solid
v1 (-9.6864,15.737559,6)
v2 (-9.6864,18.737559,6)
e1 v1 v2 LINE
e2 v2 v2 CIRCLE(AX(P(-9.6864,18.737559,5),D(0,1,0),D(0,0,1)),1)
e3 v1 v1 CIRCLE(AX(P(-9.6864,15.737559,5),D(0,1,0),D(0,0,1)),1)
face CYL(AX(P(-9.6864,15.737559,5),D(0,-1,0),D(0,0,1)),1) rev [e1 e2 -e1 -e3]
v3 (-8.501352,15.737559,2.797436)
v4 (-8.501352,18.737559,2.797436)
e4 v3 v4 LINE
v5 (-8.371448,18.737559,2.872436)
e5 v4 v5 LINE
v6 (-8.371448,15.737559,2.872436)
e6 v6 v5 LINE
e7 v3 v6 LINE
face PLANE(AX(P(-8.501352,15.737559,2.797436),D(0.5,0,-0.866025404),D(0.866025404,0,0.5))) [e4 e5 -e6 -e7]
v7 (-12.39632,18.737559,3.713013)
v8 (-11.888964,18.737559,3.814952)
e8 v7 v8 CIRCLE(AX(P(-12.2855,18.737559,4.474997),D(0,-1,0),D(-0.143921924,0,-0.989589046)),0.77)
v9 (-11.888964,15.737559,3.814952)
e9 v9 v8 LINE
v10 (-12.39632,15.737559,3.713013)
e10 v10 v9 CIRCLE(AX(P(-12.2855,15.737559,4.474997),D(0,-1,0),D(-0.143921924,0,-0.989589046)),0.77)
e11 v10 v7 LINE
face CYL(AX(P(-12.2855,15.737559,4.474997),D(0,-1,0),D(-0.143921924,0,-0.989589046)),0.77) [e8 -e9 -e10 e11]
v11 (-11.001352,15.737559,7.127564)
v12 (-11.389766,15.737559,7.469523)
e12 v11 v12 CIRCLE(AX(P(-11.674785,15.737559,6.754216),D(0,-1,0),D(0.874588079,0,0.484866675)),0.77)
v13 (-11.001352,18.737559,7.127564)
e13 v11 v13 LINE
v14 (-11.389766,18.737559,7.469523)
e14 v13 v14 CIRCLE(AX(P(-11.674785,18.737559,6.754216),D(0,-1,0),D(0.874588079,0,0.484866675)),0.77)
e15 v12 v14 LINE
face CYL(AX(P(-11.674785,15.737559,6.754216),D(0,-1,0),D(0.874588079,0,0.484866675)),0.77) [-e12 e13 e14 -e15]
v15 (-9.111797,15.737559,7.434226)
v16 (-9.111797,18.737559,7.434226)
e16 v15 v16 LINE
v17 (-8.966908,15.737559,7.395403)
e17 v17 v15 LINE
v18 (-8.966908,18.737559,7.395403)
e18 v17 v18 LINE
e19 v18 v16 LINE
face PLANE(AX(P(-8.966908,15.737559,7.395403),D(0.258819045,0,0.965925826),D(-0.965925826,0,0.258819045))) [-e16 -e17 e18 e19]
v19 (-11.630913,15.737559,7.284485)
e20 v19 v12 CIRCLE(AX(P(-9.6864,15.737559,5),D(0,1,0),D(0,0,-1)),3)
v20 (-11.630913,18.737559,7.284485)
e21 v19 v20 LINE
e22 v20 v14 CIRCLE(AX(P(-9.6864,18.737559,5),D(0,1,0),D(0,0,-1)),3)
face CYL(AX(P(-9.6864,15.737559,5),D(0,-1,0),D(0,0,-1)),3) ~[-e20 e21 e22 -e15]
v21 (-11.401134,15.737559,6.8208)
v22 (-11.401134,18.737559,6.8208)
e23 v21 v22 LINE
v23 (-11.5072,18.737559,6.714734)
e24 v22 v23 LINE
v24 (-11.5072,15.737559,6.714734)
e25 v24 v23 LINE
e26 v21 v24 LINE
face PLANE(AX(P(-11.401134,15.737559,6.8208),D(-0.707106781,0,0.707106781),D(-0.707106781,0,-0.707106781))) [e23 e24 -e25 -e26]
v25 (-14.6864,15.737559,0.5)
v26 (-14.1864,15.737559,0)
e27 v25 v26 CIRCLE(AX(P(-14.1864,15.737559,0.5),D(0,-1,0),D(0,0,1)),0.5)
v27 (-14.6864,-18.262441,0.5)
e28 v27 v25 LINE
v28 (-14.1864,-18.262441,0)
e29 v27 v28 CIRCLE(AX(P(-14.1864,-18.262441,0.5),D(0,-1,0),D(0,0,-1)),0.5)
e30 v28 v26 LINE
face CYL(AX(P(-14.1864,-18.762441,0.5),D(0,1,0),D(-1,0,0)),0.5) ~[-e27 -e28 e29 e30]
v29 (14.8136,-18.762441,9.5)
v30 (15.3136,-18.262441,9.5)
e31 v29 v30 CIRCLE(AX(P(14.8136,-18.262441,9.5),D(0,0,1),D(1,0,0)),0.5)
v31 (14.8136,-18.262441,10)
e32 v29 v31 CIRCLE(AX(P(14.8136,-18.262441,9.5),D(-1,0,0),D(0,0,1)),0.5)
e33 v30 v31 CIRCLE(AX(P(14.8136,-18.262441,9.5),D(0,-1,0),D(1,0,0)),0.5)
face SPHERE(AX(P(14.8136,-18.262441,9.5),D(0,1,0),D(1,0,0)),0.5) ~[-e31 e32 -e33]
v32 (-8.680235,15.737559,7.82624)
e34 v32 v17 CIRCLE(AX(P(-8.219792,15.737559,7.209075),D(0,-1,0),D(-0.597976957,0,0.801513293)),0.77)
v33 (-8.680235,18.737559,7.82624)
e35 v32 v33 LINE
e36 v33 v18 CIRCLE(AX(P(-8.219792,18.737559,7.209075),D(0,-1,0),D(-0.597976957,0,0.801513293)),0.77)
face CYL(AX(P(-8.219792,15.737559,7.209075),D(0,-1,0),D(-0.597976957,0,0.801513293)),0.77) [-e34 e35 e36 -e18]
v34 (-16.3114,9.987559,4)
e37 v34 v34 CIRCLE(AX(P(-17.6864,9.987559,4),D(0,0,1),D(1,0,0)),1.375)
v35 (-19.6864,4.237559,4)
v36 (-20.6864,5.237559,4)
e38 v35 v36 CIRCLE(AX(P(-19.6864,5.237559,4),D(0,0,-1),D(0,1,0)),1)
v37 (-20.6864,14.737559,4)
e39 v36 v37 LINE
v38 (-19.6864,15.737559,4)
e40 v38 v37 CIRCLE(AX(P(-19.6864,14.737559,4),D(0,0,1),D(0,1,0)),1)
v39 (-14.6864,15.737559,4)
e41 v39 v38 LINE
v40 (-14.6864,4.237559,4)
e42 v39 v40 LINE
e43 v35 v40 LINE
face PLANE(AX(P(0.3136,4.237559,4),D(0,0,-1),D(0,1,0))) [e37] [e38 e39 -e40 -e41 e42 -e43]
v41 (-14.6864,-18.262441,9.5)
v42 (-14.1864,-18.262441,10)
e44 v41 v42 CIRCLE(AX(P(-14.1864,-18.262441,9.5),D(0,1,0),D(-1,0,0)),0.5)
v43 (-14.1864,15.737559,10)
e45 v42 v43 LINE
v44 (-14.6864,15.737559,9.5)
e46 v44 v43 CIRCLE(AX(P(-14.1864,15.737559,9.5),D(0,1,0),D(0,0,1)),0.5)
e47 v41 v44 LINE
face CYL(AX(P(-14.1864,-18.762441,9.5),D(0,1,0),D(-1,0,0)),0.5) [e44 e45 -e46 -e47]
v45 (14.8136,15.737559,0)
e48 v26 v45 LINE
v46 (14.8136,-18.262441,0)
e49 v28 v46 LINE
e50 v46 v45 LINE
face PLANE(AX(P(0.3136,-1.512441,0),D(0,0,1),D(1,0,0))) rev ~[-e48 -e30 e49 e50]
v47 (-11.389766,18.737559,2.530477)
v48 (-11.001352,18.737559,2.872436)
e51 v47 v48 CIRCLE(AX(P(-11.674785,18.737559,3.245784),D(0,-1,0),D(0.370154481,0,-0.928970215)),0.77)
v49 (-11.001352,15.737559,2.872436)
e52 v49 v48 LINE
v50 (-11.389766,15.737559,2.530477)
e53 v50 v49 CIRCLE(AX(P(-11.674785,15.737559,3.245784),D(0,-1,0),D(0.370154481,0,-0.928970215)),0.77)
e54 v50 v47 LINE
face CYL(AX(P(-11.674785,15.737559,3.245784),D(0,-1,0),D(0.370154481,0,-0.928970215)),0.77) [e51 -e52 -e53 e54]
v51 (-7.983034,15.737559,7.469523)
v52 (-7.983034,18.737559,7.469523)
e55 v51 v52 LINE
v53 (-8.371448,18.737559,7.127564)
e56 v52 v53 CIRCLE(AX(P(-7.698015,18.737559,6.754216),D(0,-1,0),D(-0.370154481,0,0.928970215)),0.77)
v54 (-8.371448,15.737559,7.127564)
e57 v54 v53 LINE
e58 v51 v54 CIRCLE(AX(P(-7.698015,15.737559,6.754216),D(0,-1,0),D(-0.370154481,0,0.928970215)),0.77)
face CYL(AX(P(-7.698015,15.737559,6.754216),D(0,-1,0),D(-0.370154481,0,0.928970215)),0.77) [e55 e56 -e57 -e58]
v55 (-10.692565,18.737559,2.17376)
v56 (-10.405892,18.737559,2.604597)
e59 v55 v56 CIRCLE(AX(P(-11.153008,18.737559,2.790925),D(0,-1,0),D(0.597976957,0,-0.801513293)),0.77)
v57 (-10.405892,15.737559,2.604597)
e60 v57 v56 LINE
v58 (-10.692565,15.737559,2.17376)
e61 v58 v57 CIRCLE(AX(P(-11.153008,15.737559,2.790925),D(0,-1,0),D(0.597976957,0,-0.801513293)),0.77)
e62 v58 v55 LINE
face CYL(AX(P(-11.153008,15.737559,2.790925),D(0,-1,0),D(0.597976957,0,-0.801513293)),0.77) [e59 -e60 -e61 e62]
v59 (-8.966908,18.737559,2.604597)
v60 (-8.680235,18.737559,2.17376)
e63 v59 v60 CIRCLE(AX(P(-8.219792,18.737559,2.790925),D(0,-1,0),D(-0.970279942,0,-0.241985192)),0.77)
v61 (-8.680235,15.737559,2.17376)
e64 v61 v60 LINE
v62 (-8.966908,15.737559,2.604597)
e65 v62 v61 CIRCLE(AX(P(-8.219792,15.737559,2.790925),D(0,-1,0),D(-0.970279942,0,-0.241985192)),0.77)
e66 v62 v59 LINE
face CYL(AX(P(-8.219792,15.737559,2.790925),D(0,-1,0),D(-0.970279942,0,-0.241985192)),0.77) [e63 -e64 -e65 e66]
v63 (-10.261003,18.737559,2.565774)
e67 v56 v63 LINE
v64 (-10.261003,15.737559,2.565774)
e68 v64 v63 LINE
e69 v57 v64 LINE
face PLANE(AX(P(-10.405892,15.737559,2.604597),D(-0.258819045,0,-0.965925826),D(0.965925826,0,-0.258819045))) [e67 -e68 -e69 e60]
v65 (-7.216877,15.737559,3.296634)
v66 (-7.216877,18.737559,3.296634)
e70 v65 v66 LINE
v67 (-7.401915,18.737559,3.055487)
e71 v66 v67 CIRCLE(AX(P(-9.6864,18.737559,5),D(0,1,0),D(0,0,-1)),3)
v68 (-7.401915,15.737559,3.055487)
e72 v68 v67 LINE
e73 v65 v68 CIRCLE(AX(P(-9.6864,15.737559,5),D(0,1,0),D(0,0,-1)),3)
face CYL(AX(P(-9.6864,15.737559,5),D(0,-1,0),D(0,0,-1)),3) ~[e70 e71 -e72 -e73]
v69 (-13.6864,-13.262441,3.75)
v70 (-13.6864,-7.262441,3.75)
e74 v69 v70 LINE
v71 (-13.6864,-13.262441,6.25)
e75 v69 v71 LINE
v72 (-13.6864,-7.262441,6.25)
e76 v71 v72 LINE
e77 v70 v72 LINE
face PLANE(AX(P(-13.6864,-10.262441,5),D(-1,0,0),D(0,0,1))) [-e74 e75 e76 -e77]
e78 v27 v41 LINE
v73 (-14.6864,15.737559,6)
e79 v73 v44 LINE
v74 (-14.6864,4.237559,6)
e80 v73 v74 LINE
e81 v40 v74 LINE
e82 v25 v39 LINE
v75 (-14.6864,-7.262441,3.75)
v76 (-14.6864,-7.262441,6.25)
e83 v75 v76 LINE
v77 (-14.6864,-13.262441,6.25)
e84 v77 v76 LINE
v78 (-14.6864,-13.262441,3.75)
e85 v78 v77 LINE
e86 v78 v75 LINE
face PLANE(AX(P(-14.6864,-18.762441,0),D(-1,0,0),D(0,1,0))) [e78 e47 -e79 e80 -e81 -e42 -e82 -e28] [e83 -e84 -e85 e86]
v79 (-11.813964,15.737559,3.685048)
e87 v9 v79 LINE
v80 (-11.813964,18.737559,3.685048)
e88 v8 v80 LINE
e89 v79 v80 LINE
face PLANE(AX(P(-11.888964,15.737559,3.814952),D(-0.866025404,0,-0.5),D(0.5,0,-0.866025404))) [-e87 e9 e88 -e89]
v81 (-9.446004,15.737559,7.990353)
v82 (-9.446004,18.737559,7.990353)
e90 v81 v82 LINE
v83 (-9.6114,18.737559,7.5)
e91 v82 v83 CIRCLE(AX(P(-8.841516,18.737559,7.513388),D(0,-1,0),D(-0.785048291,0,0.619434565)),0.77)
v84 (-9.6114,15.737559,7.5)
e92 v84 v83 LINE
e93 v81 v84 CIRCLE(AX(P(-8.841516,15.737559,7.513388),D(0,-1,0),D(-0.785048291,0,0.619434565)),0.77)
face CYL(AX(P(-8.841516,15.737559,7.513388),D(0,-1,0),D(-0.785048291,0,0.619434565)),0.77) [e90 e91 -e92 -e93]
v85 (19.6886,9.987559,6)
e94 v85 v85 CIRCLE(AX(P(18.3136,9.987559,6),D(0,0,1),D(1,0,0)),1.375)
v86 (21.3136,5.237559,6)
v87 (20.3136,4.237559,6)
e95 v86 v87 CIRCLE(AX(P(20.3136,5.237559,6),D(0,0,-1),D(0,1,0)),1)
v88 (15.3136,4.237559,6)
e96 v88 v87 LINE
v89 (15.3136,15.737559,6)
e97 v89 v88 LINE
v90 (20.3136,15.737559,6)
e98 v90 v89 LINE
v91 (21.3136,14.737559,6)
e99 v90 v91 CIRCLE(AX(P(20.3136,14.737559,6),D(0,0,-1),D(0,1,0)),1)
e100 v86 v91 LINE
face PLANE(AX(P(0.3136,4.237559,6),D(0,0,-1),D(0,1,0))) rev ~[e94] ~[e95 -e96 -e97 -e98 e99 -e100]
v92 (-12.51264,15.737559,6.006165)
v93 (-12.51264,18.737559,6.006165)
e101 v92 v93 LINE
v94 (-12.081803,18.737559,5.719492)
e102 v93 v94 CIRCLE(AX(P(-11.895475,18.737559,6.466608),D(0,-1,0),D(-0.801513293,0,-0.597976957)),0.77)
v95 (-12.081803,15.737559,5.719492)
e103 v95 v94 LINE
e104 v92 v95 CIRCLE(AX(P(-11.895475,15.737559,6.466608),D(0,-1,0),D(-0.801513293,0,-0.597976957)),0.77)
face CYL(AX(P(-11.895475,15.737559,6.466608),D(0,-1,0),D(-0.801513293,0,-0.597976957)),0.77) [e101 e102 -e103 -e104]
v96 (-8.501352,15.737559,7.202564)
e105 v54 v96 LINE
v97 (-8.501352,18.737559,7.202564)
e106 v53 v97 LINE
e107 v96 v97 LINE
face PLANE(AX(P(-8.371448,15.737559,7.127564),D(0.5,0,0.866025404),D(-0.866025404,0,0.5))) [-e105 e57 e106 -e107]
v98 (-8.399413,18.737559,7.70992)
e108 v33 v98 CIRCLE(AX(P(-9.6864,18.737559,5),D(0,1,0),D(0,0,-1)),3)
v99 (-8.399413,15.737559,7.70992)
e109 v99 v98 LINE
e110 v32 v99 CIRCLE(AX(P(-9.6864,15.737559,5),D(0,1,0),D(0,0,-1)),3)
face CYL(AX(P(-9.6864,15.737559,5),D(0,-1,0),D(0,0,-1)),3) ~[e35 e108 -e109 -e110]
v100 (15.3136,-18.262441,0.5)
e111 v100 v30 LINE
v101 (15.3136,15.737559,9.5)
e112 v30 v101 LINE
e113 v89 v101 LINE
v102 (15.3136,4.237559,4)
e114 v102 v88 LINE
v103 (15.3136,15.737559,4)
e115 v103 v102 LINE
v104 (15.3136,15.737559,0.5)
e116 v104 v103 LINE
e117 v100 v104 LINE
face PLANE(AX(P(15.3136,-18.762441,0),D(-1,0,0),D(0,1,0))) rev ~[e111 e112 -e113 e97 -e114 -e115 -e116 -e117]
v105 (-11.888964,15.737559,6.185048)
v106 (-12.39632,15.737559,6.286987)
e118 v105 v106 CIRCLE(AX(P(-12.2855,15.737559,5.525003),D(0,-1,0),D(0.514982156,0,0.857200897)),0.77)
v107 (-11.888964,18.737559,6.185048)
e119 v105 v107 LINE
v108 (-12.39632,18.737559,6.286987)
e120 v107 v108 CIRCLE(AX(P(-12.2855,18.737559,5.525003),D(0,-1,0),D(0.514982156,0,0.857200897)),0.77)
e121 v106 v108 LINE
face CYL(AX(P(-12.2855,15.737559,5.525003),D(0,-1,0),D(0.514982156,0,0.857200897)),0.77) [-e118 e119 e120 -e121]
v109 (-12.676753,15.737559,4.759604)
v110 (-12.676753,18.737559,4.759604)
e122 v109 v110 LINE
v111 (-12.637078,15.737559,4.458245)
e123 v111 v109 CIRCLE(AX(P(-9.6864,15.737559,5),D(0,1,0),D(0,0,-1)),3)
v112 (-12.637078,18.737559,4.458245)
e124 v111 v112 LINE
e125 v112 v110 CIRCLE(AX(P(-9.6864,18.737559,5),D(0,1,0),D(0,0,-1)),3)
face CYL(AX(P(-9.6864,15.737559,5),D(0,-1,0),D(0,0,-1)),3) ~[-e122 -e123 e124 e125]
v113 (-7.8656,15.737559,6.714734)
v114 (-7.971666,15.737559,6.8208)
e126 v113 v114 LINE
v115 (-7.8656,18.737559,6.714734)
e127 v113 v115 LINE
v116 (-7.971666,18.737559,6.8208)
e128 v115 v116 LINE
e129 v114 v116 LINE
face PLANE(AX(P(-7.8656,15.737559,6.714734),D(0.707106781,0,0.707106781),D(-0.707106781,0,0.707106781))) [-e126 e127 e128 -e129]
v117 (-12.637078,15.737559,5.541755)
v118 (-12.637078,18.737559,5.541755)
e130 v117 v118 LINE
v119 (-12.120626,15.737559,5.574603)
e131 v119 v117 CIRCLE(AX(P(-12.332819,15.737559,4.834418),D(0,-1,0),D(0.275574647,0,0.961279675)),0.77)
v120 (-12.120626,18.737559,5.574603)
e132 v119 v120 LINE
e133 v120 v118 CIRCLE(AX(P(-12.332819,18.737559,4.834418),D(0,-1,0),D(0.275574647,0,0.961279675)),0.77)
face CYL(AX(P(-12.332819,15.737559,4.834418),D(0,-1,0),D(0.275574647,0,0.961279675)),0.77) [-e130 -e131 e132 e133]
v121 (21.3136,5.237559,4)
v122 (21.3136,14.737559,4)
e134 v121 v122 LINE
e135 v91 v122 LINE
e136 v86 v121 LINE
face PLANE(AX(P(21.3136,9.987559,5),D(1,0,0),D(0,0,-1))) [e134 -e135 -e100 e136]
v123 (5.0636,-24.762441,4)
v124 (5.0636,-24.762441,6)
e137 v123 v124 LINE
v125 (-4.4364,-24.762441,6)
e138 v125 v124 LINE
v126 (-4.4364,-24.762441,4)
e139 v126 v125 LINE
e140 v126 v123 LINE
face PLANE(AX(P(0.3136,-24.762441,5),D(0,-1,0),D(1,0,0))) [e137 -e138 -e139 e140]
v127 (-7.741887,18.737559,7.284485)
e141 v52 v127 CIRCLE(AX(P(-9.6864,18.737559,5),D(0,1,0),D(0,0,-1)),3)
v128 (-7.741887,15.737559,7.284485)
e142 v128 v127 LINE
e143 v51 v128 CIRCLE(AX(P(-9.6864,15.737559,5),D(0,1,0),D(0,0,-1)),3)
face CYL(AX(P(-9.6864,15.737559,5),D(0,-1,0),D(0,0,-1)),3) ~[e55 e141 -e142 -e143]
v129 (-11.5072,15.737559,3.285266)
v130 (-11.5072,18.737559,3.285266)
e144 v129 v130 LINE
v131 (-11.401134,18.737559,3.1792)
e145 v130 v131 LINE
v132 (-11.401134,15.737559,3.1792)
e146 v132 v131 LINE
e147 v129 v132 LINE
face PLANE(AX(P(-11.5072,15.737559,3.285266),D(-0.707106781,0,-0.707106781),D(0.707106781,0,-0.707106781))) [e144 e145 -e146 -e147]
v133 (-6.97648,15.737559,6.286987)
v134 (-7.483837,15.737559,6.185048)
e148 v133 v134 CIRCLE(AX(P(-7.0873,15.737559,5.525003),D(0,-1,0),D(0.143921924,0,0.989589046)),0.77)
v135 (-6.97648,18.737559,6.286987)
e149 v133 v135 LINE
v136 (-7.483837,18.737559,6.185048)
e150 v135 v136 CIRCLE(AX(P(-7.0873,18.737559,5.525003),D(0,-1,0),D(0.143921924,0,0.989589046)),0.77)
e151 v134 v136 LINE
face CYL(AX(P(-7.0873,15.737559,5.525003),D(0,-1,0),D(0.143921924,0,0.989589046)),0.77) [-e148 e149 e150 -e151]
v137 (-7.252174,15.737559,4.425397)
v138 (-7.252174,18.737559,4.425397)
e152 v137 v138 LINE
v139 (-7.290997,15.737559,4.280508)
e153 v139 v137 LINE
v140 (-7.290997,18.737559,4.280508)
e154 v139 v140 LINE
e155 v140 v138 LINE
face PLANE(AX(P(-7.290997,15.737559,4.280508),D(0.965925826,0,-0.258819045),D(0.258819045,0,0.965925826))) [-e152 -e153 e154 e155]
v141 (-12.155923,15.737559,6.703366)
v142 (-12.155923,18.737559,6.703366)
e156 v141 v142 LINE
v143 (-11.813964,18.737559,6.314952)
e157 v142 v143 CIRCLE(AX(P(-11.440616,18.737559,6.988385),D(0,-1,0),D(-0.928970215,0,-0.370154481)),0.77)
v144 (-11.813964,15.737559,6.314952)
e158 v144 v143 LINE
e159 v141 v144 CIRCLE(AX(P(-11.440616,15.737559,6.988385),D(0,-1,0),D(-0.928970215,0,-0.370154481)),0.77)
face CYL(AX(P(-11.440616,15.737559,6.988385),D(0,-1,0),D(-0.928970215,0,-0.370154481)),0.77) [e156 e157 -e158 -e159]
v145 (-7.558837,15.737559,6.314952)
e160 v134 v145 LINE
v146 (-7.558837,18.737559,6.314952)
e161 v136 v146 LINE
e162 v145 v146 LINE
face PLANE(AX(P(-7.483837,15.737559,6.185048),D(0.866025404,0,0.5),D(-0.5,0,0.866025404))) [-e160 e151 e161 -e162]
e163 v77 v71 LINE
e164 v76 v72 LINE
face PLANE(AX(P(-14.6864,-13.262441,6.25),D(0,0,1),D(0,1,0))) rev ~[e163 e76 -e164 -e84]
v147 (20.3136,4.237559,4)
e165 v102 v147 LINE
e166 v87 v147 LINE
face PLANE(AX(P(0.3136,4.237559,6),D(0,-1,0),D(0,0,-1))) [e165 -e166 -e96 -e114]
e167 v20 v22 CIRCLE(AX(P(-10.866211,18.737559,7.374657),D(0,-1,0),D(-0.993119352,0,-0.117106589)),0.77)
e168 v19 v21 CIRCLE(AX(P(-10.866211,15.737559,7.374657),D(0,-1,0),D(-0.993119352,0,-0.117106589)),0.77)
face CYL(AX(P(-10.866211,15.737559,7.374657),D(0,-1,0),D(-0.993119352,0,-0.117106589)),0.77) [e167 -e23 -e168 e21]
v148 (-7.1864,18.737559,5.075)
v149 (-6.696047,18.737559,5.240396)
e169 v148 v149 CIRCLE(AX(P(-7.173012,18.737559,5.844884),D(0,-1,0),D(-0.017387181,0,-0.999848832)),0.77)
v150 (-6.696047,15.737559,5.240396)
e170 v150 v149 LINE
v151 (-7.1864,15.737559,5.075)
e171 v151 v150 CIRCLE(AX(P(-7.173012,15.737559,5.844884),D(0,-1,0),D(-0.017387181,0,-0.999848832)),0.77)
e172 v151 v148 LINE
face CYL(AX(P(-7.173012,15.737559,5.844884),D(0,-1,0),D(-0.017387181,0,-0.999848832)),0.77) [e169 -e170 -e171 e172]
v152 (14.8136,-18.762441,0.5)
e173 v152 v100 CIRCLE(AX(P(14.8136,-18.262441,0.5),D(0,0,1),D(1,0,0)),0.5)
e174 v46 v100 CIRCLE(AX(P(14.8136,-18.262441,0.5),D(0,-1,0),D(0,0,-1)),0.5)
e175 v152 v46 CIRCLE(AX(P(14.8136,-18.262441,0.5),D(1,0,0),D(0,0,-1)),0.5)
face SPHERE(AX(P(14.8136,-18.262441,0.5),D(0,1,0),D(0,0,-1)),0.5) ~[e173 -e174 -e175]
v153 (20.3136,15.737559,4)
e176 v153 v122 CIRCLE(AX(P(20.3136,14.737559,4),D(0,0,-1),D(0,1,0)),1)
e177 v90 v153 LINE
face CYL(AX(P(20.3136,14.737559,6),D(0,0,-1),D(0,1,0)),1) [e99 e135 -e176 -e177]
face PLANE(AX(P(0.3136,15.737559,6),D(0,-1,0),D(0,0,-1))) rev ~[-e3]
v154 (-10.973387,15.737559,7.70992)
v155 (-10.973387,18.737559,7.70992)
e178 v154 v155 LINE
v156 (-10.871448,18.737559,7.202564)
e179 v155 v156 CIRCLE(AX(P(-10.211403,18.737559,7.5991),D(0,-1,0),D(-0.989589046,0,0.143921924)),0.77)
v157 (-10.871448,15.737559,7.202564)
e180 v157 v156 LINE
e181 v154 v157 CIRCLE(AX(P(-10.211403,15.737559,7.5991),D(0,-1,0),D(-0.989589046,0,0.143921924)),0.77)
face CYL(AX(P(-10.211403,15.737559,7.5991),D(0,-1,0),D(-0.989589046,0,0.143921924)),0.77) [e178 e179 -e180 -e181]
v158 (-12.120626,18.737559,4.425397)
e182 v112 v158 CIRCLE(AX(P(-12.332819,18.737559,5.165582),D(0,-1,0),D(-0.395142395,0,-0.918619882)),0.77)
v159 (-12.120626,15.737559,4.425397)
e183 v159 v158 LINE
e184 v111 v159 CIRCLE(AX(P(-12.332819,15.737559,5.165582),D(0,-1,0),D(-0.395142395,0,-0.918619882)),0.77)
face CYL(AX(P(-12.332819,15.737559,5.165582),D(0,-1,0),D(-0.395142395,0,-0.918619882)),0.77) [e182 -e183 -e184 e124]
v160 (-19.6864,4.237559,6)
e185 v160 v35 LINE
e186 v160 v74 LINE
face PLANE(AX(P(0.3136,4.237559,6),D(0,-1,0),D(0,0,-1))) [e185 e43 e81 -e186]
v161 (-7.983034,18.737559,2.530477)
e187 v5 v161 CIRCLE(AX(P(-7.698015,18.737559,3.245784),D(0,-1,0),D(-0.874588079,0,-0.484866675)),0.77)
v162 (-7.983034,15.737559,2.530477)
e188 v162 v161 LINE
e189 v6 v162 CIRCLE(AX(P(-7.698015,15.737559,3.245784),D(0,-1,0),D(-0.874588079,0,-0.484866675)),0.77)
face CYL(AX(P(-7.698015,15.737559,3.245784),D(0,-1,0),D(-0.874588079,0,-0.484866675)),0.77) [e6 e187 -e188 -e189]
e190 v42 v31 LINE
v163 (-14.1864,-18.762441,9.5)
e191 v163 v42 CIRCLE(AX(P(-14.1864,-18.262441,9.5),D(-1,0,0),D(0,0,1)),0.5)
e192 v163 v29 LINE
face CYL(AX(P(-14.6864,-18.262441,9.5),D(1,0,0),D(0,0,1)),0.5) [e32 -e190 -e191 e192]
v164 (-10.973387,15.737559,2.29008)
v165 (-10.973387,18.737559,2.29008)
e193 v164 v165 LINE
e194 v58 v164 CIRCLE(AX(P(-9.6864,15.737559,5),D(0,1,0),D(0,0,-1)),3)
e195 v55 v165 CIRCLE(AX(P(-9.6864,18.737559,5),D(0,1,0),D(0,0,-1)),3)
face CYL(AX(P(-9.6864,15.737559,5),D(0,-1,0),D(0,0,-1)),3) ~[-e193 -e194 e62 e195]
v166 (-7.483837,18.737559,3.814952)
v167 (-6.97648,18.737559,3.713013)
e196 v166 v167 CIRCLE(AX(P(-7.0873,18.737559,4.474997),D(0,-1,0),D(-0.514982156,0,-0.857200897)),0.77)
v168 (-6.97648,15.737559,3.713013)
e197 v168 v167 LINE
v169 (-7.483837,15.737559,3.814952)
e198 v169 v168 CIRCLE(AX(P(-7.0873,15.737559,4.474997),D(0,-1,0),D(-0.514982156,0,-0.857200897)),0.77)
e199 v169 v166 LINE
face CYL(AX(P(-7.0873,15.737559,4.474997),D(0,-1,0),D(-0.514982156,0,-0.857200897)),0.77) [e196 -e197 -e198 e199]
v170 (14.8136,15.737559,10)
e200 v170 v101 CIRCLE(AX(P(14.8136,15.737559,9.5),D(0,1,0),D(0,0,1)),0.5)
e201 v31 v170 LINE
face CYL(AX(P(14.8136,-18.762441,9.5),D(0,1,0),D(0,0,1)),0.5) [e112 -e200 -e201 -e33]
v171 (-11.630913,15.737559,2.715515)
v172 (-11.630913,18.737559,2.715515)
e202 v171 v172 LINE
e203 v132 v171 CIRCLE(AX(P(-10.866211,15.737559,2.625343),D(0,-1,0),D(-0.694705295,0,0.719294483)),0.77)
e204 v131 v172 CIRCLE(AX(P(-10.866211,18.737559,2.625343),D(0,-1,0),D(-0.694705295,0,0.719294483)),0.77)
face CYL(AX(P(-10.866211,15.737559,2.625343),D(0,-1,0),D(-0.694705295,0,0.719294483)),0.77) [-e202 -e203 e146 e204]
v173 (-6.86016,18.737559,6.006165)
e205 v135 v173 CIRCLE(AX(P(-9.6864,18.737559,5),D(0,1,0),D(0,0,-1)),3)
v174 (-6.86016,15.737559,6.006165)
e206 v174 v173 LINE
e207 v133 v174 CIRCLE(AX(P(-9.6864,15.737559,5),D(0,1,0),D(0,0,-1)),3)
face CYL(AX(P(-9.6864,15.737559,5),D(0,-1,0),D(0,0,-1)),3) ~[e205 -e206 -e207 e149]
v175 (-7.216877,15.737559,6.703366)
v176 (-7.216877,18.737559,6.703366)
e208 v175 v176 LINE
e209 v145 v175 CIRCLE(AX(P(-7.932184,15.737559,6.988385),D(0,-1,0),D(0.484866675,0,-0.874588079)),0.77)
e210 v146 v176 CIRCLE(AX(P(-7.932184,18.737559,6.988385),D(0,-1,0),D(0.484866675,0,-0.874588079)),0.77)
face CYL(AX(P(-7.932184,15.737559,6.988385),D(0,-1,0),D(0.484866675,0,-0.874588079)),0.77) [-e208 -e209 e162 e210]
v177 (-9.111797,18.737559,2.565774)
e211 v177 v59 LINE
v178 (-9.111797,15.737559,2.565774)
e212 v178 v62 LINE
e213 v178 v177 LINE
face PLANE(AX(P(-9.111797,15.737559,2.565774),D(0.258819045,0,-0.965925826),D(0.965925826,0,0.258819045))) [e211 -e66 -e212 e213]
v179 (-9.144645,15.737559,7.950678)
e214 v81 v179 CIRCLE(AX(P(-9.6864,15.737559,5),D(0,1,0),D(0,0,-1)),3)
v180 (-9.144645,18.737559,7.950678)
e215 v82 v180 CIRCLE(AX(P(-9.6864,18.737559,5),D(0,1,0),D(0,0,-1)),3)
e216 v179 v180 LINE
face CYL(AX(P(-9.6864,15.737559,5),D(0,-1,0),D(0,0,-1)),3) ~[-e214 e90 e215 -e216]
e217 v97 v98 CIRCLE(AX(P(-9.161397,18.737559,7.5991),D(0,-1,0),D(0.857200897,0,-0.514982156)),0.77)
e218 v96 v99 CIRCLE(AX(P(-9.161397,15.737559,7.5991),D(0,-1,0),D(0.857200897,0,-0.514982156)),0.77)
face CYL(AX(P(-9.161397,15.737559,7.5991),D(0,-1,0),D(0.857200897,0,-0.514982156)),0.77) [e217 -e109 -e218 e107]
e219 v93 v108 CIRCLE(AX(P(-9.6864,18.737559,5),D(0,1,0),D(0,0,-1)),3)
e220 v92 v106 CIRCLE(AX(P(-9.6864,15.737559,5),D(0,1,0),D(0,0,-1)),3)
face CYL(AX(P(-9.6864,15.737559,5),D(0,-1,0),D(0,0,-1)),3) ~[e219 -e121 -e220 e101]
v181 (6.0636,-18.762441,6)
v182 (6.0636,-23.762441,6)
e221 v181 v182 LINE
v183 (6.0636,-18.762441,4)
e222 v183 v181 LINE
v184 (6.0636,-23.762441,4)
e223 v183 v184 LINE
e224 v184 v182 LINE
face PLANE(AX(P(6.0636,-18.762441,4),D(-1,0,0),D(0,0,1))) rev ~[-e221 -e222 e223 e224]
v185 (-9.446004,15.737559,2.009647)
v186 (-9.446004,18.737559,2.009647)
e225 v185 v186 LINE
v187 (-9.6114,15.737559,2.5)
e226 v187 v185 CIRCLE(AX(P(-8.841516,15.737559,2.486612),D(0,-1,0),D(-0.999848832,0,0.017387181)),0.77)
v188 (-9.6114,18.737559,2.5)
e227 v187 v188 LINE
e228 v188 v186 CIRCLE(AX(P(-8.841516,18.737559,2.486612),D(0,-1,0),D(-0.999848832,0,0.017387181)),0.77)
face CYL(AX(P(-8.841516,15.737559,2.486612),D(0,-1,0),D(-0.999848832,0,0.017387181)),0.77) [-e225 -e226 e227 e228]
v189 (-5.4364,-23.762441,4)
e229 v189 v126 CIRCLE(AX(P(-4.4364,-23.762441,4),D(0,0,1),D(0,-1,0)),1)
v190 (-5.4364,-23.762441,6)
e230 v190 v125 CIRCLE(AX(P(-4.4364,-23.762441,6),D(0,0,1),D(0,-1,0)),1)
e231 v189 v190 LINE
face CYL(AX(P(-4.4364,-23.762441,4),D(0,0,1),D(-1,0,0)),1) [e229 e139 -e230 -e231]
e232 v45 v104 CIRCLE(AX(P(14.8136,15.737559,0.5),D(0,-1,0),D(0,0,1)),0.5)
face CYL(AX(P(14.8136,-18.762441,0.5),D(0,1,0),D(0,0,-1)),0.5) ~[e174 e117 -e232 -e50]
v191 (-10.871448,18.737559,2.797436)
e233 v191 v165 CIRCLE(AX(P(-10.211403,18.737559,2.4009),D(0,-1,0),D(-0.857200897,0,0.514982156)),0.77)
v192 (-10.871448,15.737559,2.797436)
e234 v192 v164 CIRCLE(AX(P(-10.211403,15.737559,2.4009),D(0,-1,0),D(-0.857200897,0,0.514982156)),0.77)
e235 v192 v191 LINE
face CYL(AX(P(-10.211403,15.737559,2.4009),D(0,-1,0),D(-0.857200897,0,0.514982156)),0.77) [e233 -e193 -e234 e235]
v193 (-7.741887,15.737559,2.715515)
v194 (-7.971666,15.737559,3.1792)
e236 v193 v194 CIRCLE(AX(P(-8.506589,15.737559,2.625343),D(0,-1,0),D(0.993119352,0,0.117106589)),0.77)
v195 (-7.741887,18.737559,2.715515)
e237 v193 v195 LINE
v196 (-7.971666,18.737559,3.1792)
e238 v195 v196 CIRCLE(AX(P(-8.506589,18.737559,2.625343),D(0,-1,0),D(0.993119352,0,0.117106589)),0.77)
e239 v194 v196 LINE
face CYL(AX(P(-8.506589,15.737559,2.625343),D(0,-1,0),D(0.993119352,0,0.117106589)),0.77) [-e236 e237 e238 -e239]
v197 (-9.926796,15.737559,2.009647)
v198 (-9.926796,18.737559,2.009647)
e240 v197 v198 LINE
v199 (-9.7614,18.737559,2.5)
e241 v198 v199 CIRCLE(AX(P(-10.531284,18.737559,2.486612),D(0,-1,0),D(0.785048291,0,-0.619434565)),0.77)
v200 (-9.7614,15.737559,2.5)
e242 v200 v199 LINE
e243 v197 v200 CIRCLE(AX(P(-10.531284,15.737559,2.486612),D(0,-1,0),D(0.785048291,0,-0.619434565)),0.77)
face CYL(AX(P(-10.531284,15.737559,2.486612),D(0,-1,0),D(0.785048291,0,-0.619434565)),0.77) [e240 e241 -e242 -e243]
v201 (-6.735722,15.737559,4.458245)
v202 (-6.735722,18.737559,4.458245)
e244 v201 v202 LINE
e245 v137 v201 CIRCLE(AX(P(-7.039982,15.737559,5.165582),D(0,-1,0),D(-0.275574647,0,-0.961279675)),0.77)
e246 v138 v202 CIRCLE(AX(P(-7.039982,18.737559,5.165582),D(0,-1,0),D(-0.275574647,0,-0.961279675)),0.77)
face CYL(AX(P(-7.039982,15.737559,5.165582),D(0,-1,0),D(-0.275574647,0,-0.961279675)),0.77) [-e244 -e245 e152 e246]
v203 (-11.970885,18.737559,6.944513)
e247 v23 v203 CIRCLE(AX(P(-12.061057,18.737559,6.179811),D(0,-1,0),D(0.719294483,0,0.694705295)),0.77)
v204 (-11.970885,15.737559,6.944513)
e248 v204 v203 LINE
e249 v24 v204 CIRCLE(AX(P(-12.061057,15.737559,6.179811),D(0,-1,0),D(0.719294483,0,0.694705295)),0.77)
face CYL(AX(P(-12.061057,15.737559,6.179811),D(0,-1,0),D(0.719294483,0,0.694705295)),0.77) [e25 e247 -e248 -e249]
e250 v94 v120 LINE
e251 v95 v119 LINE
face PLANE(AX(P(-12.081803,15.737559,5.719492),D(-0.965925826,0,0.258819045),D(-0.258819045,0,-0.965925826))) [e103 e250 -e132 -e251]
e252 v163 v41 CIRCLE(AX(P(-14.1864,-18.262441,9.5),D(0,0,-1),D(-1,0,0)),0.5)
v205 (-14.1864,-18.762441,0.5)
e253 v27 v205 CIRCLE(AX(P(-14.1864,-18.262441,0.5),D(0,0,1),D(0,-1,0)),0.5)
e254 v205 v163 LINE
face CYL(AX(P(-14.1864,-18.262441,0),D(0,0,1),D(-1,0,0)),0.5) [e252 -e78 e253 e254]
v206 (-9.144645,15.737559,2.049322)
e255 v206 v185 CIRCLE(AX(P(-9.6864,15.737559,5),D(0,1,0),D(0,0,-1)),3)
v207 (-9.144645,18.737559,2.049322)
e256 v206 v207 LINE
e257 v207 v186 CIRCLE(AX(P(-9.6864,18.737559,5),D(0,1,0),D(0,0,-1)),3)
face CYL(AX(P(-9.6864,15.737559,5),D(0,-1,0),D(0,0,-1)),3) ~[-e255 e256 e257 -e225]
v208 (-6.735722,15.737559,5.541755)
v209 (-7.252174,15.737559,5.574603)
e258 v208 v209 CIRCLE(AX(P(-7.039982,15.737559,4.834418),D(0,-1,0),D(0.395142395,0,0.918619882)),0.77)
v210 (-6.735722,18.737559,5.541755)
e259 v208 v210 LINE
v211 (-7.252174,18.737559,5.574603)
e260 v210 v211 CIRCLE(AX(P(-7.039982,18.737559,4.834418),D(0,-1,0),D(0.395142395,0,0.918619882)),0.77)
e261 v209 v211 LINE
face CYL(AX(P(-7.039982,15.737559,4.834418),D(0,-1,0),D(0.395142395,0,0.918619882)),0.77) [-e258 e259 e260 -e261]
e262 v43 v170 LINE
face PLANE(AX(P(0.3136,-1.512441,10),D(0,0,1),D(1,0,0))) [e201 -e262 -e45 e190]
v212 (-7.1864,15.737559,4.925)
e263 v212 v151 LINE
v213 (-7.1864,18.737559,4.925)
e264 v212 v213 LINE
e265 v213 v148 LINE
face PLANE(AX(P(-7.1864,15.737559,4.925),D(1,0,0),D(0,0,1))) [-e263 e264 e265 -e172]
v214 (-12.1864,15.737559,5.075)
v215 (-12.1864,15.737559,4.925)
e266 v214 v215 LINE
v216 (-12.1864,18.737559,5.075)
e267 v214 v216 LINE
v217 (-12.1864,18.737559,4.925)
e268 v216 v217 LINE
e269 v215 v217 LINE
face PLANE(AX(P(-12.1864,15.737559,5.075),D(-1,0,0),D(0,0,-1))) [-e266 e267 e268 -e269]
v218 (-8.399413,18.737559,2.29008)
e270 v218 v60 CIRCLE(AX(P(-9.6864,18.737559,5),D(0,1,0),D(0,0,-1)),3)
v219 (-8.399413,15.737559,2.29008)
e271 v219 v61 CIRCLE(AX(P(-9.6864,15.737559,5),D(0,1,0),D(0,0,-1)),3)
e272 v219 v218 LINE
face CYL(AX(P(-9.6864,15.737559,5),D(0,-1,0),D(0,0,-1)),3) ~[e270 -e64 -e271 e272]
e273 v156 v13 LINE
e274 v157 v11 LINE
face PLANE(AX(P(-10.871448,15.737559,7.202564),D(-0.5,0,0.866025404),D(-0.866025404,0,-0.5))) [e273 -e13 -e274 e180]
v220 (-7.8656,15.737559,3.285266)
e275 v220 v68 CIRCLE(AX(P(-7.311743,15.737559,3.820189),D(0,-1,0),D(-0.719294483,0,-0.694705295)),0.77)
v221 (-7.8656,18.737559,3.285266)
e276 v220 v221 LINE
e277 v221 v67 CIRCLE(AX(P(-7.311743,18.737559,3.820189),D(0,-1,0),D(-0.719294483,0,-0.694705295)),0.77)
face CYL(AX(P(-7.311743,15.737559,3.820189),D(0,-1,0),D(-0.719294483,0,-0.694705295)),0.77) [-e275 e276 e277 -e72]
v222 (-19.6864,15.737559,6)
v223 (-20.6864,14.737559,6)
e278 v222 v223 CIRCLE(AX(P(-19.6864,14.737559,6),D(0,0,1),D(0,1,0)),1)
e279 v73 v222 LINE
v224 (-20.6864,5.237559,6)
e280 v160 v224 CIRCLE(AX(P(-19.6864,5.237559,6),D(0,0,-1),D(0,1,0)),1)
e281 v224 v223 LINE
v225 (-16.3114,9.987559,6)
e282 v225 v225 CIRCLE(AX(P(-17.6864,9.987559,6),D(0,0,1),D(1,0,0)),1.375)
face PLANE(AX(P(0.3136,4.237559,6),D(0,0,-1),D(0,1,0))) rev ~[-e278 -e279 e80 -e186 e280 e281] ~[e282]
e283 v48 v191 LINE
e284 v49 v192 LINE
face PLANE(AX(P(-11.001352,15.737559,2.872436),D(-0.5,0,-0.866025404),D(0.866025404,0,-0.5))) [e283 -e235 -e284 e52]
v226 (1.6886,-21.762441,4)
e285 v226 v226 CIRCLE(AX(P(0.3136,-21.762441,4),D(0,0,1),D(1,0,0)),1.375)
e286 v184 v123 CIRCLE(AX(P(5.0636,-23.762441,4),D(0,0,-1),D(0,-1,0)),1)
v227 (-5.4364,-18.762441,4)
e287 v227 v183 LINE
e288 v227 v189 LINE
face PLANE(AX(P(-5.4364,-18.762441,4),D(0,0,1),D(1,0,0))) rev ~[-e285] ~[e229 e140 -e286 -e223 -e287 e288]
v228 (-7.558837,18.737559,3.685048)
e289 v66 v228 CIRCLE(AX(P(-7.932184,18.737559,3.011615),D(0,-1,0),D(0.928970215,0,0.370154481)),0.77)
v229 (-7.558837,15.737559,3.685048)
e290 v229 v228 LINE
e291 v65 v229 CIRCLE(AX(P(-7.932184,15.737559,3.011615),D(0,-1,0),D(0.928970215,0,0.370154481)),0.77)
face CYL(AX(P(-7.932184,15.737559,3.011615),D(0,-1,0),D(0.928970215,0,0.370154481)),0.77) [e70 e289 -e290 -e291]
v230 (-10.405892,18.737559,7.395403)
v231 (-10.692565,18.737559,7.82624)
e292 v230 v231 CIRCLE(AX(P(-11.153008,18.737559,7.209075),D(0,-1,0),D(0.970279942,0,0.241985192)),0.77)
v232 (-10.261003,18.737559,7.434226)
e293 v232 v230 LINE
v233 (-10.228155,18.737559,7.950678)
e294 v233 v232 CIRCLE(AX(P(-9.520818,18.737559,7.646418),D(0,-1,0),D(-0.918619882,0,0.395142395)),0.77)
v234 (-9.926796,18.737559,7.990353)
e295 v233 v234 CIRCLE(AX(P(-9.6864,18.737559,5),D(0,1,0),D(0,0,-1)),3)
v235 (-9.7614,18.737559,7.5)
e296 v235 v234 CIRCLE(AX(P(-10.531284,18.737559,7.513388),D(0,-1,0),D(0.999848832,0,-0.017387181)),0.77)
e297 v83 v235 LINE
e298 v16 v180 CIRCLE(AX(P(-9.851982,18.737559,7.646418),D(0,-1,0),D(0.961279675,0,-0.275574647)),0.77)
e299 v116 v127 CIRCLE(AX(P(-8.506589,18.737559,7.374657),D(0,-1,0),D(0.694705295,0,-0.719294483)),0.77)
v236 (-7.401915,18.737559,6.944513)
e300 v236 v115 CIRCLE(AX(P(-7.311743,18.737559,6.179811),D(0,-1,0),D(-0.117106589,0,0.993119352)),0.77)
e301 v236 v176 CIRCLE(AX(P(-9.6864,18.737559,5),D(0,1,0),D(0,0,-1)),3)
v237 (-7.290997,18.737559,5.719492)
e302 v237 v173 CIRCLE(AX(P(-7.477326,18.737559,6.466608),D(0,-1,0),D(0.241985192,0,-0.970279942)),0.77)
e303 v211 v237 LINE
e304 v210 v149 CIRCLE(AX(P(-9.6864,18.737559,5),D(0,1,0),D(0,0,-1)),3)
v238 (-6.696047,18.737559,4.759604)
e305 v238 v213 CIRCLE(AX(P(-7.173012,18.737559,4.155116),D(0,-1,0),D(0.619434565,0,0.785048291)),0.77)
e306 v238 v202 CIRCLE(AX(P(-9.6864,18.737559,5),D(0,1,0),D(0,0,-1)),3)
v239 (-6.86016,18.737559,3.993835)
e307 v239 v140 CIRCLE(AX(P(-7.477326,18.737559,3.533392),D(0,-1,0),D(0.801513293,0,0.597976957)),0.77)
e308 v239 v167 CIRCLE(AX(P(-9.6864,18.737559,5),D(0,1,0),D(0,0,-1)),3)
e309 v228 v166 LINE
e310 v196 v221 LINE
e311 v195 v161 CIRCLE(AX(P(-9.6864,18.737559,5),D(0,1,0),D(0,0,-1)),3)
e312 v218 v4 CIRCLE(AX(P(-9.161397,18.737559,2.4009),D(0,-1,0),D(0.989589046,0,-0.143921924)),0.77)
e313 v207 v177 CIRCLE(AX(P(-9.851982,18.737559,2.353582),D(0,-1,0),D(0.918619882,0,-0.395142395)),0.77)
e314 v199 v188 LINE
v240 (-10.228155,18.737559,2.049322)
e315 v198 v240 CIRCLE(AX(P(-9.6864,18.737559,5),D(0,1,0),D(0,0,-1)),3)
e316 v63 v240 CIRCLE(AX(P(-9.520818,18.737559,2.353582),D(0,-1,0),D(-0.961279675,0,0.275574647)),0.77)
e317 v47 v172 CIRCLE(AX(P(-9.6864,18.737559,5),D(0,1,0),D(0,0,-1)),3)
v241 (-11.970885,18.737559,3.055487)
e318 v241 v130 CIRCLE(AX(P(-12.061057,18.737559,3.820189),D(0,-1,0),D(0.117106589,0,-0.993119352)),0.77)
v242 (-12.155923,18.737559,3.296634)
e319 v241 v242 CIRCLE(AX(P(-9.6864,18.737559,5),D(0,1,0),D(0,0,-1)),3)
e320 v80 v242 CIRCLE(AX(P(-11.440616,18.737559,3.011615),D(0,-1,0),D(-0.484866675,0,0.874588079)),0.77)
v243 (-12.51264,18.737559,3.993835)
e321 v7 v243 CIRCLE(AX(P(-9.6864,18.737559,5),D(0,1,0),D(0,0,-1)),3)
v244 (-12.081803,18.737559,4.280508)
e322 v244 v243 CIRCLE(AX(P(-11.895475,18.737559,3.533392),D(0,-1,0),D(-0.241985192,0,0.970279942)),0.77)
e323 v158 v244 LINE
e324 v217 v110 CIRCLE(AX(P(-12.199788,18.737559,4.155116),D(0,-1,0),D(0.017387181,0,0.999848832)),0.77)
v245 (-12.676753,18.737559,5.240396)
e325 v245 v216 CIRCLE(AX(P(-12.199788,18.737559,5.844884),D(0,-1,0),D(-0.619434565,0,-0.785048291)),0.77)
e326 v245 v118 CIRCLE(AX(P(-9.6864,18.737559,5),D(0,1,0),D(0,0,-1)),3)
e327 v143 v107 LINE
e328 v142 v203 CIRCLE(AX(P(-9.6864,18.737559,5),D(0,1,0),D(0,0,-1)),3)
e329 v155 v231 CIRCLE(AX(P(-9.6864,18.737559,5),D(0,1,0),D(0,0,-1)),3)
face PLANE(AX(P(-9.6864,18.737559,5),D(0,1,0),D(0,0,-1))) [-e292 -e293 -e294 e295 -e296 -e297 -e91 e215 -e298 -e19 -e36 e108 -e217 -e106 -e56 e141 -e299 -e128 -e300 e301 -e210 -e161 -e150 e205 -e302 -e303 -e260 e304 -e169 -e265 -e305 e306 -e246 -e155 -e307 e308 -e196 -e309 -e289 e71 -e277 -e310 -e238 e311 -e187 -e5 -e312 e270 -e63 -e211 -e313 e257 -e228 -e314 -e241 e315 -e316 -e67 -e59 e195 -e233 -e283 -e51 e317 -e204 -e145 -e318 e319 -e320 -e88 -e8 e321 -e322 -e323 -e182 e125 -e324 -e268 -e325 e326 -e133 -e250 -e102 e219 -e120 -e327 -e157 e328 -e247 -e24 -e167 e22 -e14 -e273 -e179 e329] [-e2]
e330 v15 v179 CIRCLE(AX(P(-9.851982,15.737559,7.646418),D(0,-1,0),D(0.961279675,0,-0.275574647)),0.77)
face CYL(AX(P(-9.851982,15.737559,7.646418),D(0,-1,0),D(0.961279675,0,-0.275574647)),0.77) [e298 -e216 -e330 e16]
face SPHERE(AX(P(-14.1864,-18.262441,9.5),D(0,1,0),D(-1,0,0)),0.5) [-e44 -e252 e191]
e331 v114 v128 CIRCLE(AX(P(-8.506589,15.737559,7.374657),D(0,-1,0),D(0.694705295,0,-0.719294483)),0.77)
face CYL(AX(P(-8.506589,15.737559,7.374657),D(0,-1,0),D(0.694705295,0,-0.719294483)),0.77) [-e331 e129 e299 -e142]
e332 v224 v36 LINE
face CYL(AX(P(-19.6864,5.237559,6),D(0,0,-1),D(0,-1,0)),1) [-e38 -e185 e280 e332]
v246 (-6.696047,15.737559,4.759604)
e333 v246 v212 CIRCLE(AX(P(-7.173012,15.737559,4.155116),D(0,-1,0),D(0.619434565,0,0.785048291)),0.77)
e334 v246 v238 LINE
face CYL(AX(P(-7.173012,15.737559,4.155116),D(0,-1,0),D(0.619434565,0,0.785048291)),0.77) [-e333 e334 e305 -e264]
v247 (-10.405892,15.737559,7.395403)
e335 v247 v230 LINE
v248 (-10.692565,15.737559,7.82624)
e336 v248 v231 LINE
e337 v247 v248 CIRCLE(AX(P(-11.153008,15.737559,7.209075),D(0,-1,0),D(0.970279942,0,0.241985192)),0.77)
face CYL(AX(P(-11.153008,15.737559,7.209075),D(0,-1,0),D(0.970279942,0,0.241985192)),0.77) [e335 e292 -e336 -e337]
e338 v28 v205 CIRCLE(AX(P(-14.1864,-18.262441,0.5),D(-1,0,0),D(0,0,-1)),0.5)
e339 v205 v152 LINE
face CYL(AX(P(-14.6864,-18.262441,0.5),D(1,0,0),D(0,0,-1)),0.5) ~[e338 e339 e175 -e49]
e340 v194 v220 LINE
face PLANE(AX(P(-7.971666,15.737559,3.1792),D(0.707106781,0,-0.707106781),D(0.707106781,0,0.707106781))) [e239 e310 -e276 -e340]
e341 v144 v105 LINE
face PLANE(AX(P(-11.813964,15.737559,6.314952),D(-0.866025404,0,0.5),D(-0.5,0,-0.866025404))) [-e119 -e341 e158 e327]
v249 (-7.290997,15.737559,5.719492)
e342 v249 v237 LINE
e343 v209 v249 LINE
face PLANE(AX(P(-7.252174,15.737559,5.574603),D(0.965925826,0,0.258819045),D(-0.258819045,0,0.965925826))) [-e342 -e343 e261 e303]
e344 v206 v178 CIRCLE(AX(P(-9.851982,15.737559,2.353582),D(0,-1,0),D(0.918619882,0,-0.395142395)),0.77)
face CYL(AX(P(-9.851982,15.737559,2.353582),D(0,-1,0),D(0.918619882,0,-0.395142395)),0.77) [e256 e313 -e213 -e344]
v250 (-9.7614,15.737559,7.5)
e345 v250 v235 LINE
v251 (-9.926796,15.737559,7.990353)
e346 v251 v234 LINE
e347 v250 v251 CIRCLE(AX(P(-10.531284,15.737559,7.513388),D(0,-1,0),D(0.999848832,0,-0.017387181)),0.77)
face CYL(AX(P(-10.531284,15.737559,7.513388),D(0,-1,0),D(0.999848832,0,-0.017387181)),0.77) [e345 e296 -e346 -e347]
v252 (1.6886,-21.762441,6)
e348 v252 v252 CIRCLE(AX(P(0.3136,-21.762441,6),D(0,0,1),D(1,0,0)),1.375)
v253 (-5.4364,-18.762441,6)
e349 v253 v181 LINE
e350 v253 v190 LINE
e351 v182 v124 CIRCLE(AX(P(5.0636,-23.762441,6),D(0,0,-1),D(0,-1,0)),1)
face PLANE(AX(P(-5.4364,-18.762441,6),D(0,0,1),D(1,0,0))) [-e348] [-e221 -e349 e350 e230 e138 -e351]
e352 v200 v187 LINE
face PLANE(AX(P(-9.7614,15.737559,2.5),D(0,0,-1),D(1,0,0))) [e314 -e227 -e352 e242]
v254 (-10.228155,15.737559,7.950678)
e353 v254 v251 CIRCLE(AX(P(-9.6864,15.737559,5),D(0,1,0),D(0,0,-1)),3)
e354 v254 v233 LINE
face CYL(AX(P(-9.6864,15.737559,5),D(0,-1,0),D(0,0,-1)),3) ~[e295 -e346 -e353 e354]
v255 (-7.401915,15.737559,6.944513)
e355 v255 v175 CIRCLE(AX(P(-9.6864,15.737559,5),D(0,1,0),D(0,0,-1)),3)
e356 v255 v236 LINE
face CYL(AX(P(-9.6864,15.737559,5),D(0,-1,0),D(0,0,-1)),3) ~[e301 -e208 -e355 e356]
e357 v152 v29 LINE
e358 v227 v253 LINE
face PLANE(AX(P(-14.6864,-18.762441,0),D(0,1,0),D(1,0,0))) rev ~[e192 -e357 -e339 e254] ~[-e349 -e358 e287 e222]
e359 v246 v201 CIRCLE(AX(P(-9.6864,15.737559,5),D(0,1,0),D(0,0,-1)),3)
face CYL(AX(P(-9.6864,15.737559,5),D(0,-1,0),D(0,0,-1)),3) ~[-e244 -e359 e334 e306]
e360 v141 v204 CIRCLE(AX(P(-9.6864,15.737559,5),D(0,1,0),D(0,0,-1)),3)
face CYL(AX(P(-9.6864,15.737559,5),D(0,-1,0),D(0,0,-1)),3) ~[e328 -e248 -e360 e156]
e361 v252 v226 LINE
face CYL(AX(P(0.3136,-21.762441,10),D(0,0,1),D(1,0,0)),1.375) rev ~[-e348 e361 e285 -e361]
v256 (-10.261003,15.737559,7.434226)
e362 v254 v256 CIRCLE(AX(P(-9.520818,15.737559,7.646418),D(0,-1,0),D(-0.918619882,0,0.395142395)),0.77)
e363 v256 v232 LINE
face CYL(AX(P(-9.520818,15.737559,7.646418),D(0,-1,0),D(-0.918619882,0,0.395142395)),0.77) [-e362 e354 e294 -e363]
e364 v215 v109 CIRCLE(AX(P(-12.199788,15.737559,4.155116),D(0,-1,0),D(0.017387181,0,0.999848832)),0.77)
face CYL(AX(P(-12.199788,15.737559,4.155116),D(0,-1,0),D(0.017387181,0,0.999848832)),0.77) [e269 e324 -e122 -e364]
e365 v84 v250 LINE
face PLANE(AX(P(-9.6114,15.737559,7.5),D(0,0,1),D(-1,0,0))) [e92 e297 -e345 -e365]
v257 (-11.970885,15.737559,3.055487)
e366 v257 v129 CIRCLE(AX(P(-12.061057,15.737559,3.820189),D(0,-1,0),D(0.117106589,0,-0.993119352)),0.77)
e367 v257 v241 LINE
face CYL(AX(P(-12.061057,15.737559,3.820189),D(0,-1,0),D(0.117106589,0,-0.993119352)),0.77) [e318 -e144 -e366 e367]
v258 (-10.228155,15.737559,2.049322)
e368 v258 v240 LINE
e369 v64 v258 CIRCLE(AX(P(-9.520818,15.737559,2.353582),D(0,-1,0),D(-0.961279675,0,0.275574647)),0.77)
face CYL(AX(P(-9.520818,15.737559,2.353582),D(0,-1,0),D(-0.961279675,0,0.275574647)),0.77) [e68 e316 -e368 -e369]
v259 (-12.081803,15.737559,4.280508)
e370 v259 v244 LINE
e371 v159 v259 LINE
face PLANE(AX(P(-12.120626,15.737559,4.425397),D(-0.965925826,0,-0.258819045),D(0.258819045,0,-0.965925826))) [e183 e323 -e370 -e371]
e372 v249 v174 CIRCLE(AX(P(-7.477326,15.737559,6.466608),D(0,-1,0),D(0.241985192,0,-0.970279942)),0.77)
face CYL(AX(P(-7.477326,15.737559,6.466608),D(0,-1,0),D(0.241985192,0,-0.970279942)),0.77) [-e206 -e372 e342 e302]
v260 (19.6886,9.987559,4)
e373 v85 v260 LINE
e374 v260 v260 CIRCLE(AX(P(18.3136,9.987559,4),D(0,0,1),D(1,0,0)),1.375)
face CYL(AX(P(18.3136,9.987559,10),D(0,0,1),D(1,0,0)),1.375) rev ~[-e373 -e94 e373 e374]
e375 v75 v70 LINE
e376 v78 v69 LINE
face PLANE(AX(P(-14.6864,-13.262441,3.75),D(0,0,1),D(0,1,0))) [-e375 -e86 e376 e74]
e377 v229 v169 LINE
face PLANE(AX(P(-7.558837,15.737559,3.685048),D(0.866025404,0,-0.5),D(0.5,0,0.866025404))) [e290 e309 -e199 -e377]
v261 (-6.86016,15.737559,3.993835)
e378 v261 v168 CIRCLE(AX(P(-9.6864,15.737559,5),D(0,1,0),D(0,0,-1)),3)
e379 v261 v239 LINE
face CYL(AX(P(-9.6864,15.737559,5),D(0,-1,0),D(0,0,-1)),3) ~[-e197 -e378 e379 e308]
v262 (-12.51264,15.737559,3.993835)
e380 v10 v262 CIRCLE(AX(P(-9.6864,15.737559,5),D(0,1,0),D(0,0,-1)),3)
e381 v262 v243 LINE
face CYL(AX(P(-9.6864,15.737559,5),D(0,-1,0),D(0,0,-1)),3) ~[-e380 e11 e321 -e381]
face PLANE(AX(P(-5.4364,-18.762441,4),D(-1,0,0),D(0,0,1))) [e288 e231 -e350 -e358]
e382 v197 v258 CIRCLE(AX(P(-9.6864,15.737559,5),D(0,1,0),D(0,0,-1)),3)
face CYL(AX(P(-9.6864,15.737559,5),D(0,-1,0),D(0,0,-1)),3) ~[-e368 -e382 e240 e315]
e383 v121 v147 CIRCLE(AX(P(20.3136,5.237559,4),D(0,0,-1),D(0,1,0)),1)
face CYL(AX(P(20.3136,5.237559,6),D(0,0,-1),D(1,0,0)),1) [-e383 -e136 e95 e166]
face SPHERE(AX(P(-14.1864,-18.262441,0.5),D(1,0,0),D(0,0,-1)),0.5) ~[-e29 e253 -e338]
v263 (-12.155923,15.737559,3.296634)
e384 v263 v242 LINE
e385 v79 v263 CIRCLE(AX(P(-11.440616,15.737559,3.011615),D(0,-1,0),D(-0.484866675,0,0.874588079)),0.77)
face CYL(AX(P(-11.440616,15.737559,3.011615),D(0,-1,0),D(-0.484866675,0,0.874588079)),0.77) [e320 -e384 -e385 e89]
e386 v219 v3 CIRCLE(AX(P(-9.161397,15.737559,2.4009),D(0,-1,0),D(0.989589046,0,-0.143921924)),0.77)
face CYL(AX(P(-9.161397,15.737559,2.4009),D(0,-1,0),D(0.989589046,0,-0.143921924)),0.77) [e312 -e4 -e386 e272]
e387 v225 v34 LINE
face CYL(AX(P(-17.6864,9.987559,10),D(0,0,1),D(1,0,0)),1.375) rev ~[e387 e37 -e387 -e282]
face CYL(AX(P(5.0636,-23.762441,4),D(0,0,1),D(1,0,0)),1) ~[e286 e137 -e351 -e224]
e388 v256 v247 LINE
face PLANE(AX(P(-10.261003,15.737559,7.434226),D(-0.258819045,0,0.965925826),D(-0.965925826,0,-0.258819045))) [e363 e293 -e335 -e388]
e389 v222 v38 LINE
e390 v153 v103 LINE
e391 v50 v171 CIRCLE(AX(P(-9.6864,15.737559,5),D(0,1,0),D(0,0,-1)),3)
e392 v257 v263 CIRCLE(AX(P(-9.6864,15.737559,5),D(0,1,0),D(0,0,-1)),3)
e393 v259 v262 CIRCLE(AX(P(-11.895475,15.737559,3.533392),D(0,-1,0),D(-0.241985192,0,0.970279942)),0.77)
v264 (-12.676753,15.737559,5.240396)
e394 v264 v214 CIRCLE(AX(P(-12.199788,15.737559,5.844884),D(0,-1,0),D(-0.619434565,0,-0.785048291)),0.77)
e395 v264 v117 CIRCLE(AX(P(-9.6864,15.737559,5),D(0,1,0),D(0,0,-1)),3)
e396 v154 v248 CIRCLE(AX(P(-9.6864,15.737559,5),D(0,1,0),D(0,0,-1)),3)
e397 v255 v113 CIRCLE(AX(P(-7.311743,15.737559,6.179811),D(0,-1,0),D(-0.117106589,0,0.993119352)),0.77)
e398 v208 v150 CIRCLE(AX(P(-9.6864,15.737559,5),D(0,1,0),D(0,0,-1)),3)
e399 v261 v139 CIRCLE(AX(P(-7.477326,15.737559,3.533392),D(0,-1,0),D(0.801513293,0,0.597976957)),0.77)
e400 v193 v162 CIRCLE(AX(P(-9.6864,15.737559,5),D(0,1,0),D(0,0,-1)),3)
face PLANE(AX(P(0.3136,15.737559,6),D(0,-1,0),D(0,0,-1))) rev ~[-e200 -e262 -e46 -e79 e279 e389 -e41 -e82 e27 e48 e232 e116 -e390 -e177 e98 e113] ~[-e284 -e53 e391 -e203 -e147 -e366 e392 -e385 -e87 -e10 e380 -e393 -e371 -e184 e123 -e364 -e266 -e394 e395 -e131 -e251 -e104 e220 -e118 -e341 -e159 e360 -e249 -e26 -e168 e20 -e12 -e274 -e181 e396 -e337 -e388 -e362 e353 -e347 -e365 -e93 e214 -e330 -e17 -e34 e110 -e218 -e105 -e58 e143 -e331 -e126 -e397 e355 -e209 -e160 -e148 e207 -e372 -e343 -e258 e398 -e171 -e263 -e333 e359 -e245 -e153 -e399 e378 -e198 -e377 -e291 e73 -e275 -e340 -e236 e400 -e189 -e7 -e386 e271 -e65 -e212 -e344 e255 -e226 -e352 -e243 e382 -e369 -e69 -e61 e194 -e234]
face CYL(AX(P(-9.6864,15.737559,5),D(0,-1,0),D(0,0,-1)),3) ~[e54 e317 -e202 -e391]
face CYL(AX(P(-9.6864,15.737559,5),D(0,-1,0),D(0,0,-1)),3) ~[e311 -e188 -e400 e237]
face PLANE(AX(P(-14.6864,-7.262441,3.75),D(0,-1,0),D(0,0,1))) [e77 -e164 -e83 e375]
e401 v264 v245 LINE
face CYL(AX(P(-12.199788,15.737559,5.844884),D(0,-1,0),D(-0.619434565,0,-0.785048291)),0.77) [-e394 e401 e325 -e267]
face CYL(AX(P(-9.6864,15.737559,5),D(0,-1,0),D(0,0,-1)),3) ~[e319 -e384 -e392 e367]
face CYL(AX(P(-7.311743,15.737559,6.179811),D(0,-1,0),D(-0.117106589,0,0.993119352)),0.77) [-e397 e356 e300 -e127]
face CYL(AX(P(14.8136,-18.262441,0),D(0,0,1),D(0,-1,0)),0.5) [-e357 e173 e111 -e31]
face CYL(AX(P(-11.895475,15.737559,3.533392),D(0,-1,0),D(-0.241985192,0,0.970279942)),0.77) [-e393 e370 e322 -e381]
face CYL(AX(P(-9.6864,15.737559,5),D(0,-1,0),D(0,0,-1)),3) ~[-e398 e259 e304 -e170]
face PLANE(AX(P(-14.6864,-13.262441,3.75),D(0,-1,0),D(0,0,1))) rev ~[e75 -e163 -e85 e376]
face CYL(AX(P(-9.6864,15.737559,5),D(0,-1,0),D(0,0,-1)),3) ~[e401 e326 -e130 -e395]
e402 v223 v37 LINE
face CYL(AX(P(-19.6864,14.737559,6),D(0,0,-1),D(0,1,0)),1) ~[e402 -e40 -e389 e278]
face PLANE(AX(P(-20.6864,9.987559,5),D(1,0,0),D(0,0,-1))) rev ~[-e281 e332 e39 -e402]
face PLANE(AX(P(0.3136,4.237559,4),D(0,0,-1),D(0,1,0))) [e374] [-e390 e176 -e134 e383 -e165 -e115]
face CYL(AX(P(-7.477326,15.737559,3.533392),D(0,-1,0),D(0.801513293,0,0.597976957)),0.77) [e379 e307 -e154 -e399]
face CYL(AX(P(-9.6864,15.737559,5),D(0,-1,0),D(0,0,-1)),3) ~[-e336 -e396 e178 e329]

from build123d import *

# Parameters (mm, degrees)
SKETCH1_W           = 30
SKETCH1_H           = 34.5
BOSS_EXTRUDE1_DEPTH = 10
SKETCH2_W           = 2
SKETCH2_H           = 11.5
BOSS_EXTRUDE4_DEPTH = 21
SKETCH3_W           = 11.5
SKETCH3_H           = 2
BOSS_EXTRUDE5_DEPTH = 6
FILLET2_R           = 1
SKETCH4_R           = 1.375
CUT_EXTRUDE1_DEPTH  = 10
FILLET3_R           = 0.5
SKETCH5_W           = 2.5
SKETCH5_H           = 6
CUT_EXTRUDE2_DEPTH  = 1
SKETCH6_R           = 3
SKETCH6_R_2         = 1
BOSS_EXTRUDE6_DEPTH = 3
CUT_EXTRUDE3_START  = -3
CUT_EXTRUDE3_DEPTH  = 3
CIRPATTERN1_COUNT   = 24


with BuildPart() as part:
    # Sketch1 → Boss-Extrude1 (new body)
    with BuildSketch(Plane.XY):
        with Locations((0.31359995, -1.512440758)):
            Rectangle(SKETCH1_W, SKETCH1_H)
    extrude(amount=BOSS_EXTRUDE1_DEPTH)

    # Sketch2 → Boss-Extrude4 (add, symmetric)
    with BuildSketch(Plane(origin=(0.31359995, 0, 0), x_dir=(0, 0, -1), z_dir=(1, 0, 0))):
        with Locations((-5, 9.987559242)):
            Rectangle(SKETCH2_W, SKETCH2_H)
    extrude(amount=BOSS_EXTRUDE4_DEPTH, both=True)

    # Sketch3 → Boss-Extrude5 (add)
    with BuildSketch(Plane.XZ.offset(18.762440758)):
        with Locations((0.31359995, 5)):
            Rectangle(SKETCH3_W, SKETCH3_H)
    extrude(amount=BOSS_EXTRUDE5_DEPTH)

    # Fillet2
    fillet2_edges = [part.edges().sort_by_distance(p)[0] for p in [
        (21.31359995, 15.737559242, 5),
        (-20.68640005, 4.237559242, 5),
        (21.31359995, 4.237559242, 5),
        (-20.68640005, 15.737559242, 5),
        (-5.43640005, -24.762440758, 5),
        (6.06359995, -24.762440758, 5),
    ]]
    fillet(fillet2_edges, radius=FILLET2_R)

    # Sketch4 → Cut-Extrude1 (cut)
    with BuildSketch(Plane.XY.offset(10)):
        with Locations((-17.68640005, 9.987559242)):
            Circle(SKETCH4_R)
        with Locations((18.31359995, 9.987559242)):
            Circle(SKETCH4_R)
        with Locations((0.31359995, -21.762440758)):
            Circle(SKETCH4_R)
    extrude(amount=-CUT_EXTRUDE1_DEPTH, mode=Mode.SUBTRACT)

    # Fillet3
    fillet3_edges = [part.edges().sort_by_distance(p)[0] for p in [
        (15.31359995, -1.512440758, 10),
        (-14.68640005, -1.512440758, 10),
        (15.31359995, -1.512440758, 0),
        (0.31359995, -18.762440758, 0),
        (-14.68640005, -1.512440758, 0),
        (15.31359995, -18.762440758, 5),
        (-14.68640005, -18.762440758, 5),
        (0.31359995, -18.762440758, 10),
    ]]
    fillet(fillet3_edges, radius=FILLET3_R)

    # Sketch5 → Cut-Extrude2 (cut)
    with BuildSketch(Plane.ZY.offset(14.68640005)):
        with Locations((5, -10.262440758)):
            Rectangle(SKETCH5_W, SKETCH5_H)
    extrude(amount=-CUT_EXTRUDE2_DEPTH, mode=Mode.SUBTRACT)

    # Sketch6 → Boss-Extrude6 (add)
    with BuildSketch(Plane(origin=(0, 15.737559242, 0), x_dir=(1, 0, 0), z_dir=(0, 1, 0))):
        with Locations(Location((-9.68640005, -5, 0), (0, 0, 90))):
            Circle(SKETCH6_R)
        with Locations(Location((-9.68640005, -5, 0), (0, 0, 270))):
            Circle(SKETCH6_R_2, mode=Mode.SUBTRACT)
    extrude(amount=BOSS_EXTRUDE6_DEPTH)

    # Sketch7 → Cut-Extrude3 (cut)
    with BuildSketch(Plane(origin=(0, 18.737559242, 0), x_dir=(1, 0, 0), z_dir=(0, 1, 0)).offset(CUT_EXTRUDE3_START)):
        with BuildLine():
            Line((-9.68640005, -2), (-9.68640005, -2.5))
            Line((-9.68640005, -2.5), (-9.61140005, -2.5))
            ThreePointArc((-9.61140005, -2.5), (-9.571129509, -2.240512735), (-9.446003633, -2.009647251))
            ThreePointArc((-9.446003633, -2.009647251), (-9.566105093, -2.002412783), (-9.68640005, -2))
        make_face()
        with BuildLine():
            Line((-9.76140005, -2.5), (-9.68640005, -2.5))
            Line((-9.68640005, -2.5), (-9.68640005, -2))
            ThreePointArc((-9.68640005, -2), (-9.806695006, -2.002412783), (-9.926796466, -2.009647251))
            ThreePointArc((-9.926796466, -2.009647251), (-9.80167059, -2.240512735), (-9.76140005, -2.5))
        make_face()
    cut_extrude3 = extrude(amount=CUT_EXTRUDE3_DEPTH, mode=Mode.SUBTRACT)

    # CirPattern1: Cut-Extrude3 ×24 about axis
    cirpattern1_axis = Axis((-9.68640005, 0, 5), (0, 1, 0))
    for i in range(1, CIRPATTERN1_COUNT):
        add(cut_extrude3.rotate(cirpattern1_axis, i * 360 / CIRPATTERN1_COUNT), mode=Mode.SUBTRACT)


solid = part.part
